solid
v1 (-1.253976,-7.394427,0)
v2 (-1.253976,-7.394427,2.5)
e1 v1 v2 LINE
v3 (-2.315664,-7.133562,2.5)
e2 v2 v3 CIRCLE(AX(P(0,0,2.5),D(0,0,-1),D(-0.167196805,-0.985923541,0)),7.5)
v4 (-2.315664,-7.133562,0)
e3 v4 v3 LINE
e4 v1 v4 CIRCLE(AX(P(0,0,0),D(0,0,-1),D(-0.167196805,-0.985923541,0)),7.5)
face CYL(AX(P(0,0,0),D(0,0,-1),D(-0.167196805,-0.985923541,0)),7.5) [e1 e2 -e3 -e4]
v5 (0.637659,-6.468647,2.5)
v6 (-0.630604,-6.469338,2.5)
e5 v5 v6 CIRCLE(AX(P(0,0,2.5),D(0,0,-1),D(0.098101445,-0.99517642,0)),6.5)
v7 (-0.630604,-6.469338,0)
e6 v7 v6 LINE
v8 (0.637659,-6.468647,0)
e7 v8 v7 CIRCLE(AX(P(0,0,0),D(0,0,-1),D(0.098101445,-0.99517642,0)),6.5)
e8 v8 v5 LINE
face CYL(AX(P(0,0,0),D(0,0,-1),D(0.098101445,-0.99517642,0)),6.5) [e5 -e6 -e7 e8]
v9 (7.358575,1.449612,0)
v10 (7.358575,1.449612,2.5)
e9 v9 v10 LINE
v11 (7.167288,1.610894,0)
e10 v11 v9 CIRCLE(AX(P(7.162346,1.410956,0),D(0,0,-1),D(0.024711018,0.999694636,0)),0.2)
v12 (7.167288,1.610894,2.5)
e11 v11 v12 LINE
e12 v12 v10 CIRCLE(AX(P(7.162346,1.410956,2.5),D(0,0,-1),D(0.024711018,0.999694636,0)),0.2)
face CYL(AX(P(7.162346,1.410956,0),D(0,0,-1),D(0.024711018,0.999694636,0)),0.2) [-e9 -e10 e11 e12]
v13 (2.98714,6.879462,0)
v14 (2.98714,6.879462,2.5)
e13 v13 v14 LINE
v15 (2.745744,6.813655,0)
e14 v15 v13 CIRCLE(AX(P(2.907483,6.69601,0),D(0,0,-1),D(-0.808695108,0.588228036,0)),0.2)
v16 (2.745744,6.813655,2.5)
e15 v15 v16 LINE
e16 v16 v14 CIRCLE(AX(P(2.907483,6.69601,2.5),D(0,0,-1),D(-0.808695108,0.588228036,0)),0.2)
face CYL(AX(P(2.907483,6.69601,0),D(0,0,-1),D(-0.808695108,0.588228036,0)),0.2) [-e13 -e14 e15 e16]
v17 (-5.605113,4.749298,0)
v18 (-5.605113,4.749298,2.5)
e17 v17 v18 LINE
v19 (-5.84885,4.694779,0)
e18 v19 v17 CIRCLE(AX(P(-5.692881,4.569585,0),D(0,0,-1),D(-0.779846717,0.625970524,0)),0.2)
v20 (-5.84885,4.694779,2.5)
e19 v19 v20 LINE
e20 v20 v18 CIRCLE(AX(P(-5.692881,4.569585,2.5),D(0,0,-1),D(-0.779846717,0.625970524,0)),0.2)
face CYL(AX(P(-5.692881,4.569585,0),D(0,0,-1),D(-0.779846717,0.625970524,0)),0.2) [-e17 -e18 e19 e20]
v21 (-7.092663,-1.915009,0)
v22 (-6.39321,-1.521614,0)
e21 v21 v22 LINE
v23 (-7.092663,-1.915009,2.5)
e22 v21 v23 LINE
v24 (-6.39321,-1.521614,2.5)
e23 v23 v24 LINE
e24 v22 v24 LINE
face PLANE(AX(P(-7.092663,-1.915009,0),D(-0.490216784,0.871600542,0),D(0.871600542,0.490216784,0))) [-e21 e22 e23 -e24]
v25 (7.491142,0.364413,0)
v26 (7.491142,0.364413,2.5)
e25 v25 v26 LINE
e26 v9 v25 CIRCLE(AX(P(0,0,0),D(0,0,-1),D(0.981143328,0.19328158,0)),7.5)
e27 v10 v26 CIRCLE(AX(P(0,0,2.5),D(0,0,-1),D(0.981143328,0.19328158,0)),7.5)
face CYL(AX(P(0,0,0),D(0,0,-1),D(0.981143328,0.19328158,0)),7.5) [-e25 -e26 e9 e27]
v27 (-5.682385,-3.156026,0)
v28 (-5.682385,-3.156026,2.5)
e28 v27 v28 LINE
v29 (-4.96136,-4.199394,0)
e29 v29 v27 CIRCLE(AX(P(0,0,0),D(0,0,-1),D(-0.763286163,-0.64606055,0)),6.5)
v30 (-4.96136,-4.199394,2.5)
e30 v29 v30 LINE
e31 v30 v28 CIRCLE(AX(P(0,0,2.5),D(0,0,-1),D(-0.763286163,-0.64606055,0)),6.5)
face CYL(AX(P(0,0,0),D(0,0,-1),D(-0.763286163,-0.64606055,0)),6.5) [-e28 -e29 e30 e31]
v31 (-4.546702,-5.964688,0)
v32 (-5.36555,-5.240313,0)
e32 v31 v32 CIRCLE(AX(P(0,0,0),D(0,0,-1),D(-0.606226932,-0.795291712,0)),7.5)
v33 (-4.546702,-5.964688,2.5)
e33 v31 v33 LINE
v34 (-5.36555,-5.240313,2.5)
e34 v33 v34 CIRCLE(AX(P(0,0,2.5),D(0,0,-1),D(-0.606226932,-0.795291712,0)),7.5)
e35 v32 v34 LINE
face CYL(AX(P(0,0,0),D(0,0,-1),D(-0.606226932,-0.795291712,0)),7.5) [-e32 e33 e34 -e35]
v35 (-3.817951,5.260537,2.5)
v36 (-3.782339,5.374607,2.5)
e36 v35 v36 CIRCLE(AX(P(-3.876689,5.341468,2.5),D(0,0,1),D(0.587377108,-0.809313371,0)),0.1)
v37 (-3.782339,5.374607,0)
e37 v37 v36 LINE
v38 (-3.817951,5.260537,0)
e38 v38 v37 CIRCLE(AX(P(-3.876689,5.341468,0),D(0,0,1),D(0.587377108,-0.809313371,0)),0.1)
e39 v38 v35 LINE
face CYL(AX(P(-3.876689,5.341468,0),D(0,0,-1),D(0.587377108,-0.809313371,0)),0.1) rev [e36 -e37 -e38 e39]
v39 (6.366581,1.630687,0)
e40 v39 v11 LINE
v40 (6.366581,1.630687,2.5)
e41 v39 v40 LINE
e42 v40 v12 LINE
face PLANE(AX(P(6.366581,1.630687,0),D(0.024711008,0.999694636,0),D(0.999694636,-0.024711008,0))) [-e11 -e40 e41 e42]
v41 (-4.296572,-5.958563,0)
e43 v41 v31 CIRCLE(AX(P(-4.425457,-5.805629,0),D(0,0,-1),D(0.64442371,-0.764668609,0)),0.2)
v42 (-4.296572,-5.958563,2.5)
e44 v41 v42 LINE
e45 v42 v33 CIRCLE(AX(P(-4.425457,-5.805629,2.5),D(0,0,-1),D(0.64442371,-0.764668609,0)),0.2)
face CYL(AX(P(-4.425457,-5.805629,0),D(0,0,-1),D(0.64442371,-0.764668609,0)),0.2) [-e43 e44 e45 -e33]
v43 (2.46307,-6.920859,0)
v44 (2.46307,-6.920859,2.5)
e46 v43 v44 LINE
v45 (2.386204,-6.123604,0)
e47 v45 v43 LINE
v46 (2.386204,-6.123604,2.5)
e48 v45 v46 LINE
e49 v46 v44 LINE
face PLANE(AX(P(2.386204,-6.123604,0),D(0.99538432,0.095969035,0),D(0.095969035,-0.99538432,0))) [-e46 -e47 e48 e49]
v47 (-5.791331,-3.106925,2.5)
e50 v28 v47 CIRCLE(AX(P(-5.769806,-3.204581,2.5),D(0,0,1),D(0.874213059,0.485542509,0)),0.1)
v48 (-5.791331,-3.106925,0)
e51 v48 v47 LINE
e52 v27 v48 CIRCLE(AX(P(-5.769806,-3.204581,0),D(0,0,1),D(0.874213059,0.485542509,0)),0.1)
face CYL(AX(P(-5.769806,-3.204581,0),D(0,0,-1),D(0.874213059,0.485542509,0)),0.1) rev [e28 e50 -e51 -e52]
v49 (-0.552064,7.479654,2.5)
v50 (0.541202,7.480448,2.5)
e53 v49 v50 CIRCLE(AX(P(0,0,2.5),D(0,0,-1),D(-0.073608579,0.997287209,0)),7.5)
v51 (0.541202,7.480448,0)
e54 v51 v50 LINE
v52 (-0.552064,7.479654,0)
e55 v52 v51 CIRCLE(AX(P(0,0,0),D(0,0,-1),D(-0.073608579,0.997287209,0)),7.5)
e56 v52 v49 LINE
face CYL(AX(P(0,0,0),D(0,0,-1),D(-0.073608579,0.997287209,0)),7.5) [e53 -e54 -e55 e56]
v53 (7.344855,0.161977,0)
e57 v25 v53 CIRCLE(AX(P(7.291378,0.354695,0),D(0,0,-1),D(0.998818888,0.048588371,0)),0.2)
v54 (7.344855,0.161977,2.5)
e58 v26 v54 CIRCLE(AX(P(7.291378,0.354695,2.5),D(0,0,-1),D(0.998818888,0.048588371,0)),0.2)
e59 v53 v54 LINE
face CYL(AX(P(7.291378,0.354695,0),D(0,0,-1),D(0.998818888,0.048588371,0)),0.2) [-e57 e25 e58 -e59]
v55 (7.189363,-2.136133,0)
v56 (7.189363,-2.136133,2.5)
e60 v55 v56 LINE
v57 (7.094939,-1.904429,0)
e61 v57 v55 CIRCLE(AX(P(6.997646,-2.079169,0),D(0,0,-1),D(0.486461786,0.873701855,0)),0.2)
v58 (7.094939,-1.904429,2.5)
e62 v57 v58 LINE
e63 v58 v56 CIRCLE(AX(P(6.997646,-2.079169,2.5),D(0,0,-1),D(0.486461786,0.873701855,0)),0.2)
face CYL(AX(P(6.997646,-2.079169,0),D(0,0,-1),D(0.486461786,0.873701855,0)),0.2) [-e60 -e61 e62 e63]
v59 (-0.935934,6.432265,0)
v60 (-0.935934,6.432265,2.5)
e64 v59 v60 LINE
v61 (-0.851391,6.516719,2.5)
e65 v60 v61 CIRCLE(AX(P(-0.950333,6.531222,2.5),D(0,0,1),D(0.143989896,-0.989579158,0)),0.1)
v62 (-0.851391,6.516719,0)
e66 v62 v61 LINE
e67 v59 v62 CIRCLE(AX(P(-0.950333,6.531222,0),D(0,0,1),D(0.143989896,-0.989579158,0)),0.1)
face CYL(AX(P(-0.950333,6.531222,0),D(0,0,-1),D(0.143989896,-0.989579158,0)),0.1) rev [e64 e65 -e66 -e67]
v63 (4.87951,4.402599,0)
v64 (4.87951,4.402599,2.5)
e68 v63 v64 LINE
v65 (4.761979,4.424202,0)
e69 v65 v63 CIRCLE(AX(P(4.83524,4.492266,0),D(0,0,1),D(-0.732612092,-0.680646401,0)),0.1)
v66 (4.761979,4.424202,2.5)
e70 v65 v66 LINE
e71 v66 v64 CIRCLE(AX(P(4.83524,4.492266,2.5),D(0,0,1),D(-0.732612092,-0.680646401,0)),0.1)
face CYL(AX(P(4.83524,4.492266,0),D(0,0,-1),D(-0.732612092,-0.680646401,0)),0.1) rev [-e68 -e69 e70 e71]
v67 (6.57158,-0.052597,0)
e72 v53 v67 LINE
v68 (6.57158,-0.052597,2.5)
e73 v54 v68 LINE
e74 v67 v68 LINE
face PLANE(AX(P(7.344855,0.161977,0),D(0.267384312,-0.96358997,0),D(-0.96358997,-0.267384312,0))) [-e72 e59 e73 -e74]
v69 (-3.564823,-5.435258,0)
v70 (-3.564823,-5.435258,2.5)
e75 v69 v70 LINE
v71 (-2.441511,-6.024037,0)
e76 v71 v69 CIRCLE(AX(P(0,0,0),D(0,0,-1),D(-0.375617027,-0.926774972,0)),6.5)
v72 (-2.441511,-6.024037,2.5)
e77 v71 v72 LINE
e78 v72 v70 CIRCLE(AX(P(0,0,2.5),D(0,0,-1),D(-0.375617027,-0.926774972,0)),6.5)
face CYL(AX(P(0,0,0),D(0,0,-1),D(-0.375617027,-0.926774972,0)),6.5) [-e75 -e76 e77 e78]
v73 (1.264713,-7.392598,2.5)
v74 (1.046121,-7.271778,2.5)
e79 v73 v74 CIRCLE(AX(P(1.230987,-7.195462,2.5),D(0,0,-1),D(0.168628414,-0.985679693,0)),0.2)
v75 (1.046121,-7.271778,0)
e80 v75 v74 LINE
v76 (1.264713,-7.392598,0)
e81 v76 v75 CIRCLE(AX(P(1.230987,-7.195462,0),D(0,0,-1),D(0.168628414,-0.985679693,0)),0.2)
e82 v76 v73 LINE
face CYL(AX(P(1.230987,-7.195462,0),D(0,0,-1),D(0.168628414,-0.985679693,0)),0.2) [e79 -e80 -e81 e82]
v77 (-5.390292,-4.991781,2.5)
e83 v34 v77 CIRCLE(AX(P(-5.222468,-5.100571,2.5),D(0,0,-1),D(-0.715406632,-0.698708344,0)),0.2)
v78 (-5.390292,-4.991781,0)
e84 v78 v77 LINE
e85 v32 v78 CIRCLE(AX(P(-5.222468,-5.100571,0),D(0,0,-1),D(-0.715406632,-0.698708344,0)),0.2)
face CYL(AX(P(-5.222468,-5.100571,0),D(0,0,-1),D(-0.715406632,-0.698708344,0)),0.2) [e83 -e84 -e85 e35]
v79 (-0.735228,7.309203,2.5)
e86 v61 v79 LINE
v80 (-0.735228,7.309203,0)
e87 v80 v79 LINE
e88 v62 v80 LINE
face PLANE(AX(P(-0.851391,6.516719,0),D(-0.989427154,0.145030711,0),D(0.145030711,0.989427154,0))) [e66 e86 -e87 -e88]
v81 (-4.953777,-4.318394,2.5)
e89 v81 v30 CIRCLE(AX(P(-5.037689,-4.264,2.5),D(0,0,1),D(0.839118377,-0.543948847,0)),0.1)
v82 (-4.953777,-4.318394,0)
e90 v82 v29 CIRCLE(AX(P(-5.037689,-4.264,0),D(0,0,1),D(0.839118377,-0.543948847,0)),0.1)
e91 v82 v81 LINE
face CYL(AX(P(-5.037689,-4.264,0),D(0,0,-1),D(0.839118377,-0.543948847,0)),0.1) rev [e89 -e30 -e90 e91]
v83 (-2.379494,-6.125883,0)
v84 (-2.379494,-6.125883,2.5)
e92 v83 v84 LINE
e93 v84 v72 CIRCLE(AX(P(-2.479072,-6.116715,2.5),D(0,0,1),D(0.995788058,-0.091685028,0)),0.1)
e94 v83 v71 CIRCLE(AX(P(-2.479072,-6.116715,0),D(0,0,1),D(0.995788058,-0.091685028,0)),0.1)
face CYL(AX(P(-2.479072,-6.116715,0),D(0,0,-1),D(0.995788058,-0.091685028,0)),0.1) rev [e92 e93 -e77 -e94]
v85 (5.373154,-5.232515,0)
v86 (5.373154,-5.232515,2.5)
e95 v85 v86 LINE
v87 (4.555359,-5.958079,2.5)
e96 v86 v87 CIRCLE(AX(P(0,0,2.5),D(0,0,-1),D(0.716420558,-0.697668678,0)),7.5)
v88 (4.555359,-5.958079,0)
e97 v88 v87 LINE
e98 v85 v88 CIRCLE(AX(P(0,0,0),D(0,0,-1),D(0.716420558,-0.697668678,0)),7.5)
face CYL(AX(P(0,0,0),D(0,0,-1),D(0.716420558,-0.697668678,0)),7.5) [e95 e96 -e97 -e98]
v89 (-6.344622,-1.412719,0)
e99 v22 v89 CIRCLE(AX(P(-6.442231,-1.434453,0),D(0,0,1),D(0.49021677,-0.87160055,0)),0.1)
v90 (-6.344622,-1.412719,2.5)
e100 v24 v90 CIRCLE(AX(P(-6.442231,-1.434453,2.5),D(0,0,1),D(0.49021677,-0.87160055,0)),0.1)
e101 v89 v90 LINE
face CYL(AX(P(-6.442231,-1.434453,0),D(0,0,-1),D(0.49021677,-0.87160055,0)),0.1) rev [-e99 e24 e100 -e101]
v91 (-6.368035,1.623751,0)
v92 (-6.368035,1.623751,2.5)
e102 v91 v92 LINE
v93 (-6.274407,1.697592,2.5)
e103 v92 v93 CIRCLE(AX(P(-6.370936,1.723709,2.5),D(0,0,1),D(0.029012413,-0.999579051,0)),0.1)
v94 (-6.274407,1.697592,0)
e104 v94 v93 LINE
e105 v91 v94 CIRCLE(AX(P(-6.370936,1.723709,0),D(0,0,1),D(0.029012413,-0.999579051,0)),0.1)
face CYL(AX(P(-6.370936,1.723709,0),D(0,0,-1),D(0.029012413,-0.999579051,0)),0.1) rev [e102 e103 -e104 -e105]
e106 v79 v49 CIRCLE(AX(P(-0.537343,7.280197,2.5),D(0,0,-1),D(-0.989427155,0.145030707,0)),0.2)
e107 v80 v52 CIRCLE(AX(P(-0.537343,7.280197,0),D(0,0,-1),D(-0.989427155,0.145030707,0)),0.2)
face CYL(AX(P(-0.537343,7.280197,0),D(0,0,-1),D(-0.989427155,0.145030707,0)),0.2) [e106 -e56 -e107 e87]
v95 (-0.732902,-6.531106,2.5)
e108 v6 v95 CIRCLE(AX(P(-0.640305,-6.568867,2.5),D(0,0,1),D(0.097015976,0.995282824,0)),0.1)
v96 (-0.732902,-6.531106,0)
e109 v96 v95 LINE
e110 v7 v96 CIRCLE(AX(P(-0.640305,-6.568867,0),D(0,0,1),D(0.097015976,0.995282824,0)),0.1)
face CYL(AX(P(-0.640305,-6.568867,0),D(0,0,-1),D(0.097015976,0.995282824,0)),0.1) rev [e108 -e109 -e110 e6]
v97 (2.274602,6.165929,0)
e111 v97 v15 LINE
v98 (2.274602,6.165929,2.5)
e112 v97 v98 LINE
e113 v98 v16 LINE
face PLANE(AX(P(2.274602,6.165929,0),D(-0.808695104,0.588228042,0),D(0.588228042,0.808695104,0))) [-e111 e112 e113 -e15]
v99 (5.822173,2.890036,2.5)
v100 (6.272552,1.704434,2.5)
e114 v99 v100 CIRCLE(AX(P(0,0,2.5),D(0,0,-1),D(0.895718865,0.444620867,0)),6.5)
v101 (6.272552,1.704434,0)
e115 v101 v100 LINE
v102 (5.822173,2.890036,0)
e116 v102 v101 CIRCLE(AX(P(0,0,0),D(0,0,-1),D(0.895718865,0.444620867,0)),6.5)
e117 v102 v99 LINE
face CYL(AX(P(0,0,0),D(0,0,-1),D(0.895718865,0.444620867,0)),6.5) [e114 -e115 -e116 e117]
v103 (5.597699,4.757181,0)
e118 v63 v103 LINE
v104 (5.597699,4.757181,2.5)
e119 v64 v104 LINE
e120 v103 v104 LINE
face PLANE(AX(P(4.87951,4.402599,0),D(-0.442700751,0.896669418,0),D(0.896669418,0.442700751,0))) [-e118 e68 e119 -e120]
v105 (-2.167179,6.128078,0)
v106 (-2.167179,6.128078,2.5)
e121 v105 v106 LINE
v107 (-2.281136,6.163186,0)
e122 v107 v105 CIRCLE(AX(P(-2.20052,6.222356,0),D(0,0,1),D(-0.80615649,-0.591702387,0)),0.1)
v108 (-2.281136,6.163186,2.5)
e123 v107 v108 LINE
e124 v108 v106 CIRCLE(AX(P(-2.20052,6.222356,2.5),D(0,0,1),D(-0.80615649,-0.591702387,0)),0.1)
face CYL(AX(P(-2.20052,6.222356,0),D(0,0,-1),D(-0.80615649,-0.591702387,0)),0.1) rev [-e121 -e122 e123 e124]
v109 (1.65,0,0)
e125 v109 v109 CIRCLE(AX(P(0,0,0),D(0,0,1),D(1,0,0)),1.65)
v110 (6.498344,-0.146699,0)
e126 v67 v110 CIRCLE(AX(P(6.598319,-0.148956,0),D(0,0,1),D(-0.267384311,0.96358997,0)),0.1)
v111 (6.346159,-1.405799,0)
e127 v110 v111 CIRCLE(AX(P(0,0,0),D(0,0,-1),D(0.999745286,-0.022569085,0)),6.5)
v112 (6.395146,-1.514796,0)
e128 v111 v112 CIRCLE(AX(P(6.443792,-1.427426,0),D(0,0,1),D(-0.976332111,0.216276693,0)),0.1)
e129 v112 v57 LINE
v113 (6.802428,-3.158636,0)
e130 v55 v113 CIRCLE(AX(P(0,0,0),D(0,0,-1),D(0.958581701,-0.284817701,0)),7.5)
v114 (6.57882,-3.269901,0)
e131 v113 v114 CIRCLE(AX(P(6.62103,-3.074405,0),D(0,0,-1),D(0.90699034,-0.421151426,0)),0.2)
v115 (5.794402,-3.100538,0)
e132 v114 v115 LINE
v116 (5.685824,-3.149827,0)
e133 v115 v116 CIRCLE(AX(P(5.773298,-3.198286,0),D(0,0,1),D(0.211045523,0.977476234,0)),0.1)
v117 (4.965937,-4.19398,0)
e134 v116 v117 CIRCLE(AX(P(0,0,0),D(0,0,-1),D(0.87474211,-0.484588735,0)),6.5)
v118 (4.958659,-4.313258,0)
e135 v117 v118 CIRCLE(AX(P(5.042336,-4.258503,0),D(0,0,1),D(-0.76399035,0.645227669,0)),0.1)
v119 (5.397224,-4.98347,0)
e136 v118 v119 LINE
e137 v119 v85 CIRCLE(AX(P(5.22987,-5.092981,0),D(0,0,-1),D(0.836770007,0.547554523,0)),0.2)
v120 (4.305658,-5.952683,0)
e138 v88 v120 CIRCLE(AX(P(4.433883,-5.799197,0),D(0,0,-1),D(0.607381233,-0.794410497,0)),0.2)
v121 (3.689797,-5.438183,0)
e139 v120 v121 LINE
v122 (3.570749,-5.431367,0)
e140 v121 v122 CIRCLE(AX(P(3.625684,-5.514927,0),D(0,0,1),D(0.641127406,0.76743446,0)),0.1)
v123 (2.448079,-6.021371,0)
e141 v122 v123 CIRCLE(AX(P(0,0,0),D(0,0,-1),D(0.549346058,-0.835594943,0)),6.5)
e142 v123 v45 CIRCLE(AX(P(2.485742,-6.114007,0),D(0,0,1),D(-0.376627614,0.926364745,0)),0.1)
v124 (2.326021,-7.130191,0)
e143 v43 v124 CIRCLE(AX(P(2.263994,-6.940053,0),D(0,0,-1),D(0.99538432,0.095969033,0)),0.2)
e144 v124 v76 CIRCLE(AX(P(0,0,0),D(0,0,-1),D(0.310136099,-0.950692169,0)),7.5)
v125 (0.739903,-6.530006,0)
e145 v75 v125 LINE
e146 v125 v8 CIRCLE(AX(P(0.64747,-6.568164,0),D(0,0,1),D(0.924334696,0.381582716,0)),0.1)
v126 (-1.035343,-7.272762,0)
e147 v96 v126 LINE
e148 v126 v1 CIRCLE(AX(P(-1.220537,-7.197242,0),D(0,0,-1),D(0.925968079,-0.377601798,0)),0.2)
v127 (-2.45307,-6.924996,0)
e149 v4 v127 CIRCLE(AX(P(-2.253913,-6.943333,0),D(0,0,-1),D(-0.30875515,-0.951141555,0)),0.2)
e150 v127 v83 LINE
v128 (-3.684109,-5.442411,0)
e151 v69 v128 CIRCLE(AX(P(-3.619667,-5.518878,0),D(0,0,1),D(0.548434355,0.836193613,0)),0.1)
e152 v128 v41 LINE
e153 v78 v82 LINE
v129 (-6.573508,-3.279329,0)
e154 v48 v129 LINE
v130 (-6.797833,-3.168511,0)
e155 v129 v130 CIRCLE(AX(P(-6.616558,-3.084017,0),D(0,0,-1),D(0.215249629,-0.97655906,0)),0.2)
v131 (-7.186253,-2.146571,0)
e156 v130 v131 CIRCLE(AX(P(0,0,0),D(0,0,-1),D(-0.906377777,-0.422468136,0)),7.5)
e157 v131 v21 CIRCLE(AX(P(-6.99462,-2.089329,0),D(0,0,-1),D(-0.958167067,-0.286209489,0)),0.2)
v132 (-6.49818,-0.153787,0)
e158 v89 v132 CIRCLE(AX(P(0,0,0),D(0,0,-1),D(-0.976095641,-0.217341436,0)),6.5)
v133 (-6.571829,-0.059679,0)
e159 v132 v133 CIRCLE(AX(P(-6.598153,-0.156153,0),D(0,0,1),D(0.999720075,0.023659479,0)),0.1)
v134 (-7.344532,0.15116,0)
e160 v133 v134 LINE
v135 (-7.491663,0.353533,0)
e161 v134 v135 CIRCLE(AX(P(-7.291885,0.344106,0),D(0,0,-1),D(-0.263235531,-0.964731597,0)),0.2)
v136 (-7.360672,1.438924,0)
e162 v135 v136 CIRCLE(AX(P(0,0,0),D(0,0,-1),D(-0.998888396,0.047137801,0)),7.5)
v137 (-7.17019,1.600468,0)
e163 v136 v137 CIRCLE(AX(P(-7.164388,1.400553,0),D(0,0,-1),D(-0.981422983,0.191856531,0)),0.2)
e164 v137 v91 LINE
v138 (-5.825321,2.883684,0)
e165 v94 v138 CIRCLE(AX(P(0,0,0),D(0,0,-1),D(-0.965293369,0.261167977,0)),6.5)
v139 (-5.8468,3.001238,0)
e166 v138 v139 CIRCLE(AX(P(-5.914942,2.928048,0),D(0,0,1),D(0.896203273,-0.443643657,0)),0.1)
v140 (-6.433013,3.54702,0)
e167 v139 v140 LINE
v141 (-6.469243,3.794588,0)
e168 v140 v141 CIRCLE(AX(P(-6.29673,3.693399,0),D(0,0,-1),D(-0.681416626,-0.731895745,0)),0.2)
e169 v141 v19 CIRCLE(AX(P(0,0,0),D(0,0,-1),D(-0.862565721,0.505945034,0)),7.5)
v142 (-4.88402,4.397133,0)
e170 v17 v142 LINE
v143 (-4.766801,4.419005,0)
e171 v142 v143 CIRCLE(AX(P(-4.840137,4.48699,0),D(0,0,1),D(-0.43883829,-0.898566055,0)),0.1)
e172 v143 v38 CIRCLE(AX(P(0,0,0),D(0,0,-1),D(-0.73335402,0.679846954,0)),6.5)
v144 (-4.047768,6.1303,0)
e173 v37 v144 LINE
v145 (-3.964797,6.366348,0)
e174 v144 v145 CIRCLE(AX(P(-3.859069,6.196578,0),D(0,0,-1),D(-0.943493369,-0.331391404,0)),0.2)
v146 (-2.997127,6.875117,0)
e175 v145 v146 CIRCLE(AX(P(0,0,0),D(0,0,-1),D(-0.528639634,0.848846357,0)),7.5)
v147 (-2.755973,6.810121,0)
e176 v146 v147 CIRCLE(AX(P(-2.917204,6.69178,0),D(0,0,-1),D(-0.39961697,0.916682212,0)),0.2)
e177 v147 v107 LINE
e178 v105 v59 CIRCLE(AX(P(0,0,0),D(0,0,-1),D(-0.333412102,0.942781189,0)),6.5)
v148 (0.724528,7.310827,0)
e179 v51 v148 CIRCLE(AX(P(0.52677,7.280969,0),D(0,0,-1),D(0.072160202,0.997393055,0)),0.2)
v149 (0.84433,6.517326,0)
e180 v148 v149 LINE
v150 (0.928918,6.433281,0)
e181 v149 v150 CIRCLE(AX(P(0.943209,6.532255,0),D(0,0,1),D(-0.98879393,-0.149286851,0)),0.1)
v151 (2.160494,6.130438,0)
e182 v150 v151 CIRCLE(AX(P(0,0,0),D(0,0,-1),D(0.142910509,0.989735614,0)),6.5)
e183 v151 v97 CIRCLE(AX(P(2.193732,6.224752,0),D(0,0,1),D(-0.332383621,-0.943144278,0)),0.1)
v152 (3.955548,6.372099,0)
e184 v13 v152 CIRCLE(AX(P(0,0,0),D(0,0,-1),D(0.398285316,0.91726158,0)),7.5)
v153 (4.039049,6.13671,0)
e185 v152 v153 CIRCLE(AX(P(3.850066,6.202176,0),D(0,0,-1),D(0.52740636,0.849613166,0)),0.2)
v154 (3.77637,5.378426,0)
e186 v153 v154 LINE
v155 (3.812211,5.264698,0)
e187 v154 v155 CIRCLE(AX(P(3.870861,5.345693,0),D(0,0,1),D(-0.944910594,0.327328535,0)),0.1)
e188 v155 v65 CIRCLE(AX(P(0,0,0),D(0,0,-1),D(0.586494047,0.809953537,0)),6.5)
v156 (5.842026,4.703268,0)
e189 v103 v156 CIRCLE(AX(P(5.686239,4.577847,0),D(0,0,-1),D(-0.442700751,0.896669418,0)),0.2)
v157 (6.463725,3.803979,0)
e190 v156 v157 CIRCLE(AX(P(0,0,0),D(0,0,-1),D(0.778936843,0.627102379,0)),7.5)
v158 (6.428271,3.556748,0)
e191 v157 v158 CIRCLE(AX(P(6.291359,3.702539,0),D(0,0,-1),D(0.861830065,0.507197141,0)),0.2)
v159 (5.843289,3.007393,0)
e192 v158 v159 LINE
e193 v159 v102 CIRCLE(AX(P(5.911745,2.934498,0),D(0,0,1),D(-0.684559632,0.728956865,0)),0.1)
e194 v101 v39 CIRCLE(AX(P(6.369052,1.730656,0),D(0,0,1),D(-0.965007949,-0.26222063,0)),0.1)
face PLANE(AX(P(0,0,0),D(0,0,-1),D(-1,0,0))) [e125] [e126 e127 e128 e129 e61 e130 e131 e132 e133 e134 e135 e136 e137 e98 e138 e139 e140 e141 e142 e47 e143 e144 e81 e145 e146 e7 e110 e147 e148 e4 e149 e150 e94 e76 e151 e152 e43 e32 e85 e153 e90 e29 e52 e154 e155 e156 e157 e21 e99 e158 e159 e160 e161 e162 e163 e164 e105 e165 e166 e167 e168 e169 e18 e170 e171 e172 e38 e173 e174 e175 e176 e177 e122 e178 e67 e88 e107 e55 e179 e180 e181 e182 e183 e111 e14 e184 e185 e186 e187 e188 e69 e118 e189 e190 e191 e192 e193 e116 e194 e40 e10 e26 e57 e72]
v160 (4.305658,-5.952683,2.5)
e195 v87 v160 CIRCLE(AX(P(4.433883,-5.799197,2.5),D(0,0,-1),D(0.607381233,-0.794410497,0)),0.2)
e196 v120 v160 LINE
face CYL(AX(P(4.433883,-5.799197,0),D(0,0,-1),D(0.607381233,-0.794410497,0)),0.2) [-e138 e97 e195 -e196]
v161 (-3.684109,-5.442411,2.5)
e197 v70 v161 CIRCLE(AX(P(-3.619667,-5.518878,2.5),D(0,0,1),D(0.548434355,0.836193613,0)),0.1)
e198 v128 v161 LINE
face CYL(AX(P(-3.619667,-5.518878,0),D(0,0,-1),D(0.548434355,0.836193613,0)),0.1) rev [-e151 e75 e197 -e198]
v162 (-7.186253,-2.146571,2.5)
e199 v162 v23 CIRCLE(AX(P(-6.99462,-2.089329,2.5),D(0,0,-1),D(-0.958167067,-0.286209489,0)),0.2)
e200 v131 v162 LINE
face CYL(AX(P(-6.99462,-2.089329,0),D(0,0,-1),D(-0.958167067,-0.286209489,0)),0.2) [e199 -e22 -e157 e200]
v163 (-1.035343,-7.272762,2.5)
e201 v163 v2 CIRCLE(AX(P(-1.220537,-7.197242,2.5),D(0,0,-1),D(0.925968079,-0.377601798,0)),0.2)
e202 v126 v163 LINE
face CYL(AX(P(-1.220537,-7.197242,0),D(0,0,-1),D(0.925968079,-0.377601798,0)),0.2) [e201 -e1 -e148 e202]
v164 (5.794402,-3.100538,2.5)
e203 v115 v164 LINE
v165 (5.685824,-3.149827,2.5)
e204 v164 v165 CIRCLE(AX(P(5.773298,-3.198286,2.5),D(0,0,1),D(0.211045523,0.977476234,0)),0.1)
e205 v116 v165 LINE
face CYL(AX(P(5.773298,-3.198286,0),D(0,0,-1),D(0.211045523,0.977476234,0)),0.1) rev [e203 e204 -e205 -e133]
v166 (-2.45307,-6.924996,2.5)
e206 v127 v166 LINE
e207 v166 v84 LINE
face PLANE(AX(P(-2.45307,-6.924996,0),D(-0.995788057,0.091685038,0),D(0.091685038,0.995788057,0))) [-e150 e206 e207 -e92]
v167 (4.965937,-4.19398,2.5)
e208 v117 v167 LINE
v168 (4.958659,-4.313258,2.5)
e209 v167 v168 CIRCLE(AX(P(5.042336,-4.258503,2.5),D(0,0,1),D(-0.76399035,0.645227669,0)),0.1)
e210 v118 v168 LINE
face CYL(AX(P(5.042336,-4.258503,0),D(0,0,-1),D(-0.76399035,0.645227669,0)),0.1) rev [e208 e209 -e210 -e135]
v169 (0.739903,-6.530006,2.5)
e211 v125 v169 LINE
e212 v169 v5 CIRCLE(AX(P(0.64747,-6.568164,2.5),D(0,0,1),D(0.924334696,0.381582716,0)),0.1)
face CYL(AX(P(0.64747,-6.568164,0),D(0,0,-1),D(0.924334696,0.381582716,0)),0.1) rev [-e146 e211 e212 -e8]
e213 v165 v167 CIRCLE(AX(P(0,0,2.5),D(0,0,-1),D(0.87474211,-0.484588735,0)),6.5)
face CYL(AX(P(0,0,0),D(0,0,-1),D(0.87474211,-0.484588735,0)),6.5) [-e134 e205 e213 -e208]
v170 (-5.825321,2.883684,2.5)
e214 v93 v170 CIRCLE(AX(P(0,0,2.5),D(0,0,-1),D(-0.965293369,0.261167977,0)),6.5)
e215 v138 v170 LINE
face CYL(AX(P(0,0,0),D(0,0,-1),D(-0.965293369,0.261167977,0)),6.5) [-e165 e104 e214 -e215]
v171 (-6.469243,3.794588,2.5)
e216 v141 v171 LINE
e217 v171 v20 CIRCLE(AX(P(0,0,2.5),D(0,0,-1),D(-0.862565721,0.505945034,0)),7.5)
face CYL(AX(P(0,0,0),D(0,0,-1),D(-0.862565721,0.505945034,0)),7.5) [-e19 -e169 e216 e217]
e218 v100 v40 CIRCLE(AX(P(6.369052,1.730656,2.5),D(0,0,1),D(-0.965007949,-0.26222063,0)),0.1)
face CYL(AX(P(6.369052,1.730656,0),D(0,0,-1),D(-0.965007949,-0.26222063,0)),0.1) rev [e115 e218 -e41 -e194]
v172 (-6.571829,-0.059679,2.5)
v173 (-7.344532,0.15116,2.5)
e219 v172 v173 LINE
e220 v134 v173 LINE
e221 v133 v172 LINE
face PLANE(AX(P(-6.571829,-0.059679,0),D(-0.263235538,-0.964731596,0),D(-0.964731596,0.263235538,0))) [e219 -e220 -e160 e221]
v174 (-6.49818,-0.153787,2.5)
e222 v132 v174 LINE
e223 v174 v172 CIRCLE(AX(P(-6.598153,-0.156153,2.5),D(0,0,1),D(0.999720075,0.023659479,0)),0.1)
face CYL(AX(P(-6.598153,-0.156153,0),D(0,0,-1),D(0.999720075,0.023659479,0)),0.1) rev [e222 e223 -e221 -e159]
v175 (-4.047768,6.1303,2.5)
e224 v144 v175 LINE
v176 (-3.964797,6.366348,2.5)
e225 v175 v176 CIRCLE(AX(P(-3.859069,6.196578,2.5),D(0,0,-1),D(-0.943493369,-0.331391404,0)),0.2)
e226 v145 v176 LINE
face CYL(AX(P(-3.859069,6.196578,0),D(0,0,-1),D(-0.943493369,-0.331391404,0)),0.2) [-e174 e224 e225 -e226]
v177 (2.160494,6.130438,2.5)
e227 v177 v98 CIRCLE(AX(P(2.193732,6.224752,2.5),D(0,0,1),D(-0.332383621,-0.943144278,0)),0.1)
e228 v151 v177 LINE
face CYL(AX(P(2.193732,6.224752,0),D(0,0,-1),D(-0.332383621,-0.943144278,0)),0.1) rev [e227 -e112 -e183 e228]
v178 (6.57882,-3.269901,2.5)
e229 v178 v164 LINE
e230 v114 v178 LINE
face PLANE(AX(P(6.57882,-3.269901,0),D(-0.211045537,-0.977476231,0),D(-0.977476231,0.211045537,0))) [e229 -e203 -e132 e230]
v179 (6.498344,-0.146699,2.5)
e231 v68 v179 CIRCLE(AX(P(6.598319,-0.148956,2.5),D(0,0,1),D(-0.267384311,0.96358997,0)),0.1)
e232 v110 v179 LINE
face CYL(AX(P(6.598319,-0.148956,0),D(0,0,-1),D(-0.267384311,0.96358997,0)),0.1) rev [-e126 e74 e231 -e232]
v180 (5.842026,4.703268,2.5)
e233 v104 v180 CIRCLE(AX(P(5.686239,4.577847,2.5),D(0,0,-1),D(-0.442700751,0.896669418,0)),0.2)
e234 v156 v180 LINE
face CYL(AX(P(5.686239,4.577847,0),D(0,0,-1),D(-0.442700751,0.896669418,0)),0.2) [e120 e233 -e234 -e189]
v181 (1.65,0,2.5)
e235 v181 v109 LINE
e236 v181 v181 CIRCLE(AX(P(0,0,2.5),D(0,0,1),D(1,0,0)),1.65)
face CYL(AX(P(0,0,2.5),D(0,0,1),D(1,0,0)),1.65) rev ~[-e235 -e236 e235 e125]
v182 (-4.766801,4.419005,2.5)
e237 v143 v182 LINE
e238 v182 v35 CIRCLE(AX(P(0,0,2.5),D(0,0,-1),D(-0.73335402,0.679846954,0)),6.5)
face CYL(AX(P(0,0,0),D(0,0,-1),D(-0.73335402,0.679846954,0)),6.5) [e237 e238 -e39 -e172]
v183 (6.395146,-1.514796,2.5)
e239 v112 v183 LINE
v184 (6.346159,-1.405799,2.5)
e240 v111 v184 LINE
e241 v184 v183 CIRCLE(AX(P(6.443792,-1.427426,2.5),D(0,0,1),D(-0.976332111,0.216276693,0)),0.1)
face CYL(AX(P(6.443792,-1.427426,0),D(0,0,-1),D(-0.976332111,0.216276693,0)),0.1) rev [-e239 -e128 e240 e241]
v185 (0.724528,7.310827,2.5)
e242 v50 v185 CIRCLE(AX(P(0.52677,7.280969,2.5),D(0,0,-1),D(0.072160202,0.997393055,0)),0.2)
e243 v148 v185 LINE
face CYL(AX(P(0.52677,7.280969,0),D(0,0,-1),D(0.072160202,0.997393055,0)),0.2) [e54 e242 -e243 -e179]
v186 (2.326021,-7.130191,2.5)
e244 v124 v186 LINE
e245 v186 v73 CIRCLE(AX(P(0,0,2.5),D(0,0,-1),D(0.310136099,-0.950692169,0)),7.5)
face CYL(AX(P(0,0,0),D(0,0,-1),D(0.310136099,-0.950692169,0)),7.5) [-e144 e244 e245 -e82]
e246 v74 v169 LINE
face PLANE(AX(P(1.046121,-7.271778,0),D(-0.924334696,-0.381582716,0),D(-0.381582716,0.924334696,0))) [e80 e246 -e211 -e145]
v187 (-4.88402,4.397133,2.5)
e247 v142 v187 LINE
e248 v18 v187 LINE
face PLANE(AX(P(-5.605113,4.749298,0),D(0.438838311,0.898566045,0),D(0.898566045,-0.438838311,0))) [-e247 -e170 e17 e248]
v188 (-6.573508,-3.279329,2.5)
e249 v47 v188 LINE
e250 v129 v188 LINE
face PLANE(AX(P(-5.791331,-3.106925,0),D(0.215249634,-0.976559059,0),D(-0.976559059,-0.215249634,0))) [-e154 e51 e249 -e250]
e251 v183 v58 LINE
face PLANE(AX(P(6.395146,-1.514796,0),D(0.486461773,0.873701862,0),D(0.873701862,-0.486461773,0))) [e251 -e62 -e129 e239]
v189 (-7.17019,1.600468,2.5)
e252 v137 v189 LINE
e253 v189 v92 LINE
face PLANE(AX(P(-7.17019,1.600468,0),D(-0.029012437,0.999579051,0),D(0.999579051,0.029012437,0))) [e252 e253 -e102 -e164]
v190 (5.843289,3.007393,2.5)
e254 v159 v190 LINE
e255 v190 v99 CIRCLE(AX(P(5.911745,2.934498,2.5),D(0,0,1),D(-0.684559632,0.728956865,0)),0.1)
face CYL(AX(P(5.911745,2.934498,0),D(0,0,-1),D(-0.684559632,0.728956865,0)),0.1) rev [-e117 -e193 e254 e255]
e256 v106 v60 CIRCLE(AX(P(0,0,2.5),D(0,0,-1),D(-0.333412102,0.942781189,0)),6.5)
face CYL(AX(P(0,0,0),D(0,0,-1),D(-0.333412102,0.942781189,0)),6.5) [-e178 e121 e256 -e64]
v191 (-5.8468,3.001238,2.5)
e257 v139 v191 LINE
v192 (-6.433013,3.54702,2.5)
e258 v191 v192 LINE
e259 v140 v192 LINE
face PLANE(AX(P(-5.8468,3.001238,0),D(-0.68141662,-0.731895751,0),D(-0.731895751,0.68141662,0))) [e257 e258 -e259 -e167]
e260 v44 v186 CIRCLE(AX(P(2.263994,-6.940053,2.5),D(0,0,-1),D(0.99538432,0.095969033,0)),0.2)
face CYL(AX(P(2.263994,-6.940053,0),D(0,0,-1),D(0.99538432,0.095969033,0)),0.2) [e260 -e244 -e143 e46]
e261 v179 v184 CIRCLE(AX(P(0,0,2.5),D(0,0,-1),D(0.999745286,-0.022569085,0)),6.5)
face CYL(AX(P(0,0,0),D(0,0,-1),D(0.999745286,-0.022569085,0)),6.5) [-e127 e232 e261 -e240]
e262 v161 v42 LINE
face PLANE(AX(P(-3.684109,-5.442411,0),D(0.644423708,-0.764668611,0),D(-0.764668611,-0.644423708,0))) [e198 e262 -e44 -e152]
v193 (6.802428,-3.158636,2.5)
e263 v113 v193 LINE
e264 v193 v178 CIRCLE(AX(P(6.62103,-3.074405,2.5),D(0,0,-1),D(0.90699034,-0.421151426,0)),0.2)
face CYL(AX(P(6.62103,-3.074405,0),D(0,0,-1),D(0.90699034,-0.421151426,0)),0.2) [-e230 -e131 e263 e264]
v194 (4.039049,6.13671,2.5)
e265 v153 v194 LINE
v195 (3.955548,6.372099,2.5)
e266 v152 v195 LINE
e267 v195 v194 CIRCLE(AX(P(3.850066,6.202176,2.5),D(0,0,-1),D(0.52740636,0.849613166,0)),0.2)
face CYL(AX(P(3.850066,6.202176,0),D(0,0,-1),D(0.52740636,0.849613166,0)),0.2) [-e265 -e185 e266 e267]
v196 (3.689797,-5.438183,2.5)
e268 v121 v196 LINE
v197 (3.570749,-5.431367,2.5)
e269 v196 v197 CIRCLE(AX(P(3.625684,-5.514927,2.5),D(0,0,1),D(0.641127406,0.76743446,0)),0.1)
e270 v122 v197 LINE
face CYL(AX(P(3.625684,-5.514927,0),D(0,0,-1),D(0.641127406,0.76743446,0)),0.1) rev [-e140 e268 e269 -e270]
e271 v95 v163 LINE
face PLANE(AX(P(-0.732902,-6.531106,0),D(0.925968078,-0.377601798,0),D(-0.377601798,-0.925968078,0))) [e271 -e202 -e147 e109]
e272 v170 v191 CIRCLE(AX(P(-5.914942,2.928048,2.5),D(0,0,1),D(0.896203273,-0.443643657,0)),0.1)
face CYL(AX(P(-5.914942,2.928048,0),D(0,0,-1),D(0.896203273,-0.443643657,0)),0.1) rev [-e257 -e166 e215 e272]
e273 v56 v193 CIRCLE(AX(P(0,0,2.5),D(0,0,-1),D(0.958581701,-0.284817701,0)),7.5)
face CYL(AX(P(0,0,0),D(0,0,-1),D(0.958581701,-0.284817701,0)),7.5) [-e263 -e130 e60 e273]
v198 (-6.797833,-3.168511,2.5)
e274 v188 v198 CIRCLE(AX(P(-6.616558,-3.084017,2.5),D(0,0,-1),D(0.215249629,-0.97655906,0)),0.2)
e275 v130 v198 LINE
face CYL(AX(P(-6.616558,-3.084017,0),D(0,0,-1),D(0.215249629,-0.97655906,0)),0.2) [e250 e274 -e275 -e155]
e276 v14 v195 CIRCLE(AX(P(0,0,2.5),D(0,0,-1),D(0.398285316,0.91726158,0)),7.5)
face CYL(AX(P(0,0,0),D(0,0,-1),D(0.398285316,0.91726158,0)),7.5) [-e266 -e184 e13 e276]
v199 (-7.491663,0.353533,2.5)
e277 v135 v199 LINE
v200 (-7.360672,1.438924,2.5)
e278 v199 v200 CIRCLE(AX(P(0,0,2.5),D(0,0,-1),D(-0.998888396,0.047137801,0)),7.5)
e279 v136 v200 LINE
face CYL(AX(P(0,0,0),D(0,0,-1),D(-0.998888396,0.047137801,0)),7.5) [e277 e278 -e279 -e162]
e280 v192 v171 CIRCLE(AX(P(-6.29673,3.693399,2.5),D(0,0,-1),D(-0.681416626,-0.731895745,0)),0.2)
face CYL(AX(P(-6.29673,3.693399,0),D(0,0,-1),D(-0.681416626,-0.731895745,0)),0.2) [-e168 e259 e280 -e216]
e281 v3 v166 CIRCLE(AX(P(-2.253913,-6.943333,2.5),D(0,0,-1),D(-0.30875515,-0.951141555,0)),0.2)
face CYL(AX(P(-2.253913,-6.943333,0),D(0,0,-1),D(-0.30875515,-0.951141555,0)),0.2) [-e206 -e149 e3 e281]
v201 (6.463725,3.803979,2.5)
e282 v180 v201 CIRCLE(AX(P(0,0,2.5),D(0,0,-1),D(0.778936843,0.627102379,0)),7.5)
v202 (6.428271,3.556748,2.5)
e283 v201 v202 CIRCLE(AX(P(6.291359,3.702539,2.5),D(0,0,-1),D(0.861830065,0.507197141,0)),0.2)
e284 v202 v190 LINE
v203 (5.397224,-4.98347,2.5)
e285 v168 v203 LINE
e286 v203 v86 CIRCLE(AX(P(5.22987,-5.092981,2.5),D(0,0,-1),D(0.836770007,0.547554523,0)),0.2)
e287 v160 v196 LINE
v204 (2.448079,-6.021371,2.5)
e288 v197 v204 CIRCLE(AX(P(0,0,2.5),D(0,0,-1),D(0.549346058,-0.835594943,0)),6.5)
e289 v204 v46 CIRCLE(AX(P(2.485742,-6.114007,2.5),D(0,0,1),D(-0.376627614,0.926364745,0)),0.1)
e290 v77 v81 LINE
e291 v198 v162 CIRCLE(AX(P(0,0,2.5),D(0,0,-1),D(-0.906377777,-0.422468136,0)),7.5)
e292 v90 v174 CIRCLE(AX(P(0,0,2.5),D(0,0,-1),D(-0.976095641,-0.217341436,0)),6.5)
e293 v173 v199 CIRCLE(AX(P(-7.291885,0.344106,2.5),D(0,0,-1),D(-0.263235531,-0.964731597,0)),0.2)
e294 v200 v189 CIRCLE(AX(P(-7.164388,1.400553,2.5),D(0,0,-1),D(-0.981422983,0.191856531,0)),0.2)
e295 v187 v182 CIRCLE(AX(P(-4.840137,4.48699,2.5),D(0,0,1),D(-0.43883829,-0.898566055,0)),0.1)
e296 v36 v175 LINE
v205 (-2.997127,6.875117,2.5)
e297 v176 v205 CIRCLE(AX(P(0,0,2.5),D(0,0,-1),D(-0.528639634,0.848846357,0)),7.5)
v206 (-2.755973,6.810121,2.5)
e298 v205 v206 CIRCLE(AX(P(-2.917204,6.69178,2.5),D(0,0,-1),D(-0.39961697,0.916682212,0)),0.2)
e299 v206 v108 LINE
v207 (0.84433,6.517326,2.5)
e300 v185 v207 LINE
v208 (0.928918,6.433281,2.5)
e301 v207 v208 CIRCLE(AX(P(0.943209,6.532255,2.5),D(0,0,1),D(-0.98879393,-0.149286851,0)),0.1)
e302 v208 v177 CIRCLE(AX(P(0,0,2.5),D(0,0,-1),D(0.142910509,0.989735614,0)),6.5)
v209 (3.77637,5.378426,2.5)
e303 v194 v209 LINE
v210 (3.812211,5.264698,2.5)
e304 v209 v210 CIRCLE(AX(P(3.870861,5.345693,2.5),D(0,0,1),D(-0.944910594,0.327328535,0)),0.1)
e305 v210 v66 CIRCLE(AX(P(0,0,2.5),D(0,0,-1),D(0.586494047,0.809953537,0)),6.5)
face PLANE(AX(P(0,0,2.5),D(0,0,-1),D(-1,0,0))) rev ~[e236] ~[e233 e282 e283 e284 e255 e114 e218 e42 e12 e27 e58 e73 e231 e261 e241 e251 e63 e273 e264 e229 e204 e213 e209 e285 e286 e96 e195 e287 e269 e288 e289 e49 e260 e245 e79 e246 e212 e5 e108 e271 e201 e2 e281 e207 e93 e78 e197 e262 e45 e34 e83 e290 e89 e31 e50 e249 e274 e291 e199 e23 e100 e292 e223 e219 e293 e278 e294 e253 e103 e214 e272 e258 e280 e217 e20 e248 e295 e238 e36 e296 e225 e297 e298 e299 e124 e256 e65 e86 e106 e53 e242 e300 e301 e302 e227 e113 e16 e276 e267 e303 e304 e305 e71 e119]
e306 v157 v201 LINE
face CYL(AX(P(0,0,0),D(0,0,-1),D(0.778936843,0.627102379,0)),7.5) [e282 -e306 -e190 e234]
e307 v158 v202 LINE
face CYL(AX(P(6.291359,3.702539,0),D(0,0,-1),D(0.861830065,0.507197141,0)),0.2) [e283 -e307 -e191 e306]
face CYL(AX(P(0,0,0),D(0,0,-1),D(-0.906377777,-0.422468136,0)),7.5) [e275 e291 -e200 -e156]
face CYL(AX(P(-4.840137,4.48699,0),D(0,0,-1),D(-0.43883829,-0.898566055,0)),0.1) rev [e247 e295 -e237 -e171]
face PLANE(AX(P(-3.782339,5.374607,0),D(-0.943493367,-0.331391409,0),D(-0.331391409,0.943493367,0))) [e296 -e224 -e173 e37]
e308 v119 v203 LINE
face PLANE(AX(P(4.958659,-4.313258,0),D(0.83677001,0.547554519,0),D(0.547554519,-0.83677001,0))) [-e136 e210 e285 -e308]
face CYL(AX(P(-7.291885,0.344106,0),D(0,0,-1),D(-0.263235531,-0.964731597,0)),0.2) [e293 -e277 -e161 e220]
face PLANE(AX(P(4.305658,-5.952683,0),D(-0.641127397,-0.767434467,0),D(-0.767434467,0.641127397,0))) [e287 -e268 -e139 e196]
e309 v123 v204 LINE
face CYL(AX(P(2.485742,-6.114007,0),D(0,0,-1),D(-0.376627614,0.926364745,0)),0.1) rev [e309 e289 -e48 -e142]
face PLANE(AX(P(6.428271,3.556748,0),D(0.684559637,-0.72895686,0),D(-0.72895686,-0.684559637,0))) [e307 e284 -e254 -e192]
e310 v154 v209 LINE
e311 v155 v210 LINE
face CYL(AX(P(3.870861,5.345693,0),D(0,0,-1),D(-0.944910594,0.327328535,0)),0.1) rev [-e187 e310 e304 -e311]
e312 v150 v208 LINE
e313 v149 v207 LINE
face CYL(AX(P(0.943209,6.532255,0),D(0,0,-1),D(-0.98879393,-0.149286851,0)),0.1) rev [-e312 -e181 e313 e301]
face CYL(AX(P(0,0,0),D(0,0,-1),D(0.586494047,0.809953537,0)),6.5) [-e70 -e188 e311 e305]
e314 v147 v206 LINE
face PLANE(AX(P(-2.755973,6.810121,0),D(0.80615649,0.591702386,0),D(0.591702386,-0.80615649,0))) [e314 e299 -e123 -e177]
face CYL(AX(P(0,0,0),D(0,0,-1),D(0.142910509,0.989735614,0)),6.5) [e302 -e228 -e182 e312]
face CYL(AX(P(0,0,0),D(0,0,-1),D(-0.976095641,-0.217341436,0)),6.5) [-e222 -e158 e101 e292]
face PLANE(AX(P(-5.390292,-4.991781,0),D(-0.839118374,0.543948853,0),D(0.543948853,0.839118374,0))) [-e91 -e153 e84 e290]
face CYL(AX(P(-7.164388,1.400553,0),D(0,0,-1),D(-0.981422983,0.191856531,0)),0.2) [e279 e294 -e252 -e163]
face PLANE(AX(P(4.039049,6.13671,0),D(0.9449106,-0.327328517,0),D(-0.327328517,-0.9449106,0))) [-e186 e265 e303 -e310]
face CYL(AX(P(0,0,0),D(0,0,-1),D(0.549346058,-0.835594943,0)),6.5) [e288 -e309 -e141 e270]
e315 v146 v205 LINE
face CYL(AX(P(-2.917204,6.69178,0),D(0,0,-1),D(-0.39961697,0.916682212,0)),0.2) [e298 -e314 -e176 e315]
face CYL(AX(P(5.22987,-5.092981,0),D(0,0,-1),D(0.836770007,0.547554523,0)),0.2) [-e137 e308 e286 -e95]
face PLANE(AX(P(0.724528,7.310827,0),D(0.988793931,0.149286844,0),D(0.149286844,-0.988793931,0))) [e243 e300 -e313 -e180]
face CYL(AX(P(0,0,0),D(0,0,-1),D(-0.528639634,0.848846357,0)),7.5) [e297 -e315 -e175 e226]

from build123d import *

# Parameters (mm, degrees)
RESSALTO_EXTRUS_O1_DEPTH = 2.5
ESBO_O2_R                = 1.65
CORTE_EXTRUS_O1_DEPTH    = 11.891664024


with BuildPart() as part:
    # Esboço1 → Ressalto-extrusão1 (new body)
    with BuildSketch(Plane.XY):
        with BuildLine():
            Line((2.274601503, 6.165929395), (2.745743779, 6.813655149))
            ThreePointArc((2.745743779, 6.813655149), (2.854880588, 6.888968105), (2.987139863, 6.879461857))
            ThreePointArc((2.987139863, 6.879461857), (3.480600792, 6.643449264), (3.955547671, 6.372098761))
            ThreePointArc((3.955547671, 6.372098761), (4.038558016, 6.269040995), (4.03904852, 6.136710424))
            Line((4.03904852, 6.136710424), (3.776369648, 5.378426201))
            ThreePointArc((3.776369648, 5.378426201), (3.775484994, 5.315635516), (3.812211303, 5.264697995))
            ThreePointArc((3.812211303, 5.264697995), (4.307643395, 4.867669707), (4.76197859, 4.424201613))
            ThreePointArc((4.76197859, 4.424201613), (4.817162567, 4.393913756), (4.879509874, 4.402599311))
            Line((4.879509874, 4.402599311), (5.597698808, 4.75718125))
            ThreePointArc((5.597698808, 4.75718125), (5.729334329, 4.773149156), (5.842026327, 4.703267842))
            ThreePointArc((5.842026327, 4.703267842), (6.16928376, 4.264966341), (6.463725469, 3.803978583))
            ThreePointArc((6.463725469, 3.803978583), (6.489334147, 3.674148632), (6.428271384, 3.556747783))
            Line((6.428271384, 3.556747783), (5.843288544, 3.007393407))
            ThreePointArc((5.843288544, 3.007393407), (5.813324936, 2.952206135), (5.822172622, 2.890035634))
            ThreePointArc((5.822172622, 2.890035634), (6.076347708, 2.308245771), (6.272551644, 1.704434182))
            ThreePointArc((6.272551644, 1.704434182), (6.30733916, 1.651970343), (6.366581337, 1.630686782))
            Line((6.366581337, 1.630686782), (7.1672885, 1.610894457))
            ThreePointArc((7.1672885, 1.610894457), (7.291266621, 1.563859258), (7.358574964, 1.449611845))
            ThreePointArc((7.358574964, 1.449611845), (7.444658166, 0.909431028), (7.491141658, 0.364412755))
            ThreePointArc((7.491141658, 0.364412755), (7.45348203, 0.237553096), (7.344854743, 0.161977088))
            Line((7.344854743, 0.161977088), (6.571580455, -0.052596974))
            ThreePointArc((6.571580455, -0.052596974), (6.519402194, -0.087538093), (6.498344357, -0.146699062))
            ThreePointArc((6.498344357, -0.146699062), (6.453033988, -0.779969455), (6.346158708, -1.40579858))
            ThreePointArc((6.346158708, -1.40579858), (6.352580363, -1.468419567), (6.395145742, -1.514796437))
            Line((6.395145742, -1.514796437), (7.094938772, -1.904428843))
            ThreePointArc((7.094938772, -1.904428843), (7.182857599, -2.003691949), (7.189362757, -2.136132756))
            ThreePointArc((7.189362757, -2.136132756), (7.014551104, -2.654443974), (6.802427572, -3.158635644))
            ThreePointArc((6.802427572, -3.158635644), (6.710127004, -3.253462991), (6.578820396, -3.269900606))
            Line((6.578820396, -3.269900606), (5.794402479, -3.100538022))
            ThreePointArc((5.794402479, -3.100538022), (5.731962976, -3.1072284), (5.685823714, -3.149826772))
            ThreePointArc((5.685823714, -3.149826772), (5.351407949, -3.689503078), (4.965937293, -4.193979829))
            ThreePointArc((4.965937293, -4.193979829), (4.942521962, -4.25241225), (4.958659327, -4.313258047))
            Line((4.958659327, -4.313258047), (5.397224074, -4.983470446))
            ThreePointArc((5.397224074, -4.983470446), (5.428942465, -5.112221478), (5.373154184, -5.232515085))
            ThreePointArc((5.373154184, -5.232515085), (4.977494919, -5.610217851), (4.555359307, -5.958078683))
            ThreePointArc((4.555359307, -5.958078683), (4.429562747, -5.999149916), (4.305657579, -5.952683478))
            Line((4.305657579, -5.952683478), (3.689796725, -5.438183174))
            ThreePointArc((3.689796725, -5.438183174), (3.631400117, -5.415090125), (3.57074938, -5.431367127))
            ThreePointArc((3.57074938, -5.431367127), (3.023838841, -5.753816009), (2.448079489, -6.021370842))
            ThreePointArc((2.448079489, -6.021370842), (2.400191343, -6.062228535), (2.386203819, -6.12360422))
            Line((2.386203819, -6.12360422), (2.463070385, -6.920859027))
            ThreePointArc((2.463070385, -6.920859027), (2.431322037, -7.049602675), (2.32602074, -7.130191268))
            ThreePointArc((2.32602074, -7.130191268), (1.800154633, -7.280758429), (1.264713122, -7.392597698))
            ThreePointArc((1.264713122, -7.392597698), (1.134239047, -7.370503893), (1.0461205, -7.271778302))
            Line((1.0461205, -7.271778302), (0.739903009, -6.530006099))
            ThreePointArc((0.739903009, -6.530006099), (0.698927256, -6.482419963), (0.637659395, -6.468646728))
            ThreePointArc((0.637659395, -6.468646728), (0.003544695, -6.499999033), (-0.630603823, -6.46933836))
            ThreePointArc((-0.630603823, -6.46933836), (-0.691994187, -6.483261319), (-0.732902228, -6.531106463))
            Line((-0.732902228, -6.531106463), (-1.035343047, -7.27276221))
            ThreePointArc((-1.035343047, -7.27276221), (-1.123284969, -7.372004856), (-1.253976023, -7.394426559))
            ThreePointArc((-1.253976023, -7.394426559), (-1.789579385, -7.283364993), (-2.315663597, -7.133561671))
            ThreePointArc((-2.315663597, -7.133561671), (-2.42092515, -7.053364252), (-2.453070179, -6.924996352))
            Line((-2.453070179, -6.924996352), (-2.37949357, -6.125883321))
            ThreePointArc((-2.37949357, -6.125883321), (-2.393661418, -6.064705508), (-2.441510673, -6.02403732))
            ThreePointArc((-2.441510673, -6.02403732), (-3.017561497, -5.757110613), (-3.564823398, -5.435258424))
            ThreePointArc((-3.564823398, -5.435258424), (-3.625652188, -5.419057068), (-3.684109206, -5.442410924))
            Line((-3.684109206, -5.442410924), (-4.296571863, -5.958563217))
            ThreePointArc((-4.296571863, -5.958563217), (-4.420560925, -6.005569567), (-4.546701991, -5.964687838))
            ThreePointArc((-4.546701991, -5.964687838), (-4.969342333, -5.617440412), (-5.365549693, -5.240312634))
            ThreePointArc((-5.365549693, -5.240312634), (-5.42148457, -5.120383863), (-5.390292042, -4.991781193))
            Line((-5.390292042, -4.991781193), (-4.953776848, -4.318394499))
            ThreePointArc((-4.953776848, -4.318394499), (-4.937891107, -4.257640109), (-4.961360069, -4.199393559))
            ThreePointArc((-4.961360069, -4.199393559), (-5.347380717, -3.695337532), (-5.682384894, -3.156026285))
            ThreePointArc((-5.682384894, -3.156026285), (-5.728716967, -3.113412148), (-5.791331164, -3.10692463))
            Line((-5.791331164, -3.10692463), (-6.573507845, -3.2793292))
            ThreePointArc((-6.573507845, -3.2793292), (-6.705139647, -3.263330665), (-6.797833327, -3.168511015))
            ThreePointArc((-6.797833327, -3.168511015), (-7.010688839, -2.664627929), (-7.186253016, -2.146571125))
            ThreePointArc((-7.186253016, -2.146571125), (-7.180047212, -2.014385238), (-7.092662959, -1.91500912))
            Line((-7.092662959, -1.91500912), (-6.39320955, -1.52161354))
            ThreePointArc((-6.39320955, -1.52161354), (-6.350909451, -1.475200671), (-6.344621664, -1.412719342))
            ThreePointArc((-6.344621664, -1.412719342), (-6.452179456, -0.787007155), (-6.498180491, -0.153786559))
            ThreePointArc((-6.498180491, -0.153786559), (-6.519401727, -0.094522027), (-6.571828945, -0.059679346))
            Line((-6.571828945, -0.059679346), (-7.344532399, 0.151159617))
            ThreePointArc((-7.344532399, 0.151159617), (-7.453651682, 0.226497964), (-7.491662971, 0.353533496))
            ThreePointArc((-7.491662971, 0.353533496), (-7.44597102, 0.898618699), (-7.360672377, 1.43892396))
            ThreePointArc((-7.360672377, 1.43892396), (-7.293747566, 1.553084768), (-7.170190267, 1.600468464))
            Line((-7.170190267, 1.600468464), (-6.36803499, 1.623750744))
            ThreePointArc((-6.36803499, 1.623750744), (-6.309010977, 1.645189462), (-6.274406897, 1.697591851))
            ThreePointArc((-6.274406897, 1.697591851), (-6.07886164, 2.301617076), (-5.825321249, 2.883683815))
            ThreePointArc((-5.825321249, 2.883683815), (-5.816570119, 2.946021952), (-5.846799914, 3.001237757))
            Line((-5.846799914, 3.001237757), (-6.433013092, 3.547019587))
            ThreePointArc((-6.433013092, 3.547019587), (-6.494621942, 3.66443864), (-6.469242912, 3.794587744))
            ThreePointArc((-6.469242912, 3.794587744), (-6.175470974, 4.256002613), (-5.848850402, 4.694778906))
            ThreePointArc((-5.848850402, 4.694778906), (-5.736538252, 4.764761771), (-5.605113396, 4.749298011))
            Line((-5.605113396, 4.749298011), (-4.884020357, 4.3971333))
            ThreePointArc((-4.884020357, 4.3971333), (-4.82179412, 4.388686517), (-4.766801124, 4.419005209))
            ThreePointArc((-4.766801124, 4.419005209), (-4.31294988, 4.862968572), (-3.817951111, 5.260536979))
            ThreePointArc((-3.817951111, 5.260536979), (-3.781232394, 5.311667805), (-3.782339484, 5.374607458))
            Line((-3.782339484, 5.374607458), (-4.047768011, 6.130300117))
            ThreePointArc((-4.047768011, 6.130300117), (-4.047752584, 6.262900585), (-3.964797265, 6.36634767))
            ThreePointArc((-3.964797265, 6.36634767), (-3.490244951, 6.638387619), (-2.997127286, 6.875116583))
            ThreePointArc((-2.997127286, 6.875116583), (-2.865157157, 6.884889274), (-2.755972594, 6.810120618))
            Line((-2.755972594, 6.810120618), (-2.28113552, 6.163185609))
            ThreePointArc((-2.28113552, 6.163185609), (-2.229962339, 6.126788379), (-2.167178661, 6.128077729))
            ThreePointArc((-2.167178661, 6.128077729), (-1.558993279, 6.310272574), (-0.935934386, 6.432264518))
            ThreePointArc((-0.935934386, 6.432264518), (-0.879659896, 6.460474577), (-0.851390661, 6.516719362))
            Line((-0.851390661, 6.516719362), (-0.73522806, 7.309202767))
            ThreePointArc((-0.73522806, 7.309202767), (-0.67359189, 7.426607482), (-0.552064345, 7.479654067))
            ThreePointArc((-0.552064345, 7.479654067), (-0.005445871, 7.499998023), (0.541201571, 7.480447905))
            ThreePointArc((0.541201571, 7.480447905), (0.662596914, 7.427771616), (0.724528315, 7.310826663))
            Line((0.724528315, 7.310826663), (0.844329975, 6.517326369))
            ThreePointArc((0.844329975, 6.517326369), (0.87272694, 6.46131686), (0.928918317, 6.433281492))
            ThreePointArc((0.928918317, 6.433281492), (1.552109894, 6.311969176), (2.160493629, 6.130437772))
            ThreePointArc((2.160493629, 6.130437772), (2.223432083, 6.12926448), (2.274601503, 6.165929395))
        make_face()
    extrude(amount=RESSALTO_EXTRUS_O1_DEPTH)

    # Esboço2 → Corte-extrusão1 (cut, through all)
    with BuildSketch(Plane.XY.offset(2.5)):
        Circle(ESBO_O2_R)
    extrude(amount=-CORTE_EXTRUS_O1_DEPTH, mode=Mode.SUBTRACT)


solid = part.part
